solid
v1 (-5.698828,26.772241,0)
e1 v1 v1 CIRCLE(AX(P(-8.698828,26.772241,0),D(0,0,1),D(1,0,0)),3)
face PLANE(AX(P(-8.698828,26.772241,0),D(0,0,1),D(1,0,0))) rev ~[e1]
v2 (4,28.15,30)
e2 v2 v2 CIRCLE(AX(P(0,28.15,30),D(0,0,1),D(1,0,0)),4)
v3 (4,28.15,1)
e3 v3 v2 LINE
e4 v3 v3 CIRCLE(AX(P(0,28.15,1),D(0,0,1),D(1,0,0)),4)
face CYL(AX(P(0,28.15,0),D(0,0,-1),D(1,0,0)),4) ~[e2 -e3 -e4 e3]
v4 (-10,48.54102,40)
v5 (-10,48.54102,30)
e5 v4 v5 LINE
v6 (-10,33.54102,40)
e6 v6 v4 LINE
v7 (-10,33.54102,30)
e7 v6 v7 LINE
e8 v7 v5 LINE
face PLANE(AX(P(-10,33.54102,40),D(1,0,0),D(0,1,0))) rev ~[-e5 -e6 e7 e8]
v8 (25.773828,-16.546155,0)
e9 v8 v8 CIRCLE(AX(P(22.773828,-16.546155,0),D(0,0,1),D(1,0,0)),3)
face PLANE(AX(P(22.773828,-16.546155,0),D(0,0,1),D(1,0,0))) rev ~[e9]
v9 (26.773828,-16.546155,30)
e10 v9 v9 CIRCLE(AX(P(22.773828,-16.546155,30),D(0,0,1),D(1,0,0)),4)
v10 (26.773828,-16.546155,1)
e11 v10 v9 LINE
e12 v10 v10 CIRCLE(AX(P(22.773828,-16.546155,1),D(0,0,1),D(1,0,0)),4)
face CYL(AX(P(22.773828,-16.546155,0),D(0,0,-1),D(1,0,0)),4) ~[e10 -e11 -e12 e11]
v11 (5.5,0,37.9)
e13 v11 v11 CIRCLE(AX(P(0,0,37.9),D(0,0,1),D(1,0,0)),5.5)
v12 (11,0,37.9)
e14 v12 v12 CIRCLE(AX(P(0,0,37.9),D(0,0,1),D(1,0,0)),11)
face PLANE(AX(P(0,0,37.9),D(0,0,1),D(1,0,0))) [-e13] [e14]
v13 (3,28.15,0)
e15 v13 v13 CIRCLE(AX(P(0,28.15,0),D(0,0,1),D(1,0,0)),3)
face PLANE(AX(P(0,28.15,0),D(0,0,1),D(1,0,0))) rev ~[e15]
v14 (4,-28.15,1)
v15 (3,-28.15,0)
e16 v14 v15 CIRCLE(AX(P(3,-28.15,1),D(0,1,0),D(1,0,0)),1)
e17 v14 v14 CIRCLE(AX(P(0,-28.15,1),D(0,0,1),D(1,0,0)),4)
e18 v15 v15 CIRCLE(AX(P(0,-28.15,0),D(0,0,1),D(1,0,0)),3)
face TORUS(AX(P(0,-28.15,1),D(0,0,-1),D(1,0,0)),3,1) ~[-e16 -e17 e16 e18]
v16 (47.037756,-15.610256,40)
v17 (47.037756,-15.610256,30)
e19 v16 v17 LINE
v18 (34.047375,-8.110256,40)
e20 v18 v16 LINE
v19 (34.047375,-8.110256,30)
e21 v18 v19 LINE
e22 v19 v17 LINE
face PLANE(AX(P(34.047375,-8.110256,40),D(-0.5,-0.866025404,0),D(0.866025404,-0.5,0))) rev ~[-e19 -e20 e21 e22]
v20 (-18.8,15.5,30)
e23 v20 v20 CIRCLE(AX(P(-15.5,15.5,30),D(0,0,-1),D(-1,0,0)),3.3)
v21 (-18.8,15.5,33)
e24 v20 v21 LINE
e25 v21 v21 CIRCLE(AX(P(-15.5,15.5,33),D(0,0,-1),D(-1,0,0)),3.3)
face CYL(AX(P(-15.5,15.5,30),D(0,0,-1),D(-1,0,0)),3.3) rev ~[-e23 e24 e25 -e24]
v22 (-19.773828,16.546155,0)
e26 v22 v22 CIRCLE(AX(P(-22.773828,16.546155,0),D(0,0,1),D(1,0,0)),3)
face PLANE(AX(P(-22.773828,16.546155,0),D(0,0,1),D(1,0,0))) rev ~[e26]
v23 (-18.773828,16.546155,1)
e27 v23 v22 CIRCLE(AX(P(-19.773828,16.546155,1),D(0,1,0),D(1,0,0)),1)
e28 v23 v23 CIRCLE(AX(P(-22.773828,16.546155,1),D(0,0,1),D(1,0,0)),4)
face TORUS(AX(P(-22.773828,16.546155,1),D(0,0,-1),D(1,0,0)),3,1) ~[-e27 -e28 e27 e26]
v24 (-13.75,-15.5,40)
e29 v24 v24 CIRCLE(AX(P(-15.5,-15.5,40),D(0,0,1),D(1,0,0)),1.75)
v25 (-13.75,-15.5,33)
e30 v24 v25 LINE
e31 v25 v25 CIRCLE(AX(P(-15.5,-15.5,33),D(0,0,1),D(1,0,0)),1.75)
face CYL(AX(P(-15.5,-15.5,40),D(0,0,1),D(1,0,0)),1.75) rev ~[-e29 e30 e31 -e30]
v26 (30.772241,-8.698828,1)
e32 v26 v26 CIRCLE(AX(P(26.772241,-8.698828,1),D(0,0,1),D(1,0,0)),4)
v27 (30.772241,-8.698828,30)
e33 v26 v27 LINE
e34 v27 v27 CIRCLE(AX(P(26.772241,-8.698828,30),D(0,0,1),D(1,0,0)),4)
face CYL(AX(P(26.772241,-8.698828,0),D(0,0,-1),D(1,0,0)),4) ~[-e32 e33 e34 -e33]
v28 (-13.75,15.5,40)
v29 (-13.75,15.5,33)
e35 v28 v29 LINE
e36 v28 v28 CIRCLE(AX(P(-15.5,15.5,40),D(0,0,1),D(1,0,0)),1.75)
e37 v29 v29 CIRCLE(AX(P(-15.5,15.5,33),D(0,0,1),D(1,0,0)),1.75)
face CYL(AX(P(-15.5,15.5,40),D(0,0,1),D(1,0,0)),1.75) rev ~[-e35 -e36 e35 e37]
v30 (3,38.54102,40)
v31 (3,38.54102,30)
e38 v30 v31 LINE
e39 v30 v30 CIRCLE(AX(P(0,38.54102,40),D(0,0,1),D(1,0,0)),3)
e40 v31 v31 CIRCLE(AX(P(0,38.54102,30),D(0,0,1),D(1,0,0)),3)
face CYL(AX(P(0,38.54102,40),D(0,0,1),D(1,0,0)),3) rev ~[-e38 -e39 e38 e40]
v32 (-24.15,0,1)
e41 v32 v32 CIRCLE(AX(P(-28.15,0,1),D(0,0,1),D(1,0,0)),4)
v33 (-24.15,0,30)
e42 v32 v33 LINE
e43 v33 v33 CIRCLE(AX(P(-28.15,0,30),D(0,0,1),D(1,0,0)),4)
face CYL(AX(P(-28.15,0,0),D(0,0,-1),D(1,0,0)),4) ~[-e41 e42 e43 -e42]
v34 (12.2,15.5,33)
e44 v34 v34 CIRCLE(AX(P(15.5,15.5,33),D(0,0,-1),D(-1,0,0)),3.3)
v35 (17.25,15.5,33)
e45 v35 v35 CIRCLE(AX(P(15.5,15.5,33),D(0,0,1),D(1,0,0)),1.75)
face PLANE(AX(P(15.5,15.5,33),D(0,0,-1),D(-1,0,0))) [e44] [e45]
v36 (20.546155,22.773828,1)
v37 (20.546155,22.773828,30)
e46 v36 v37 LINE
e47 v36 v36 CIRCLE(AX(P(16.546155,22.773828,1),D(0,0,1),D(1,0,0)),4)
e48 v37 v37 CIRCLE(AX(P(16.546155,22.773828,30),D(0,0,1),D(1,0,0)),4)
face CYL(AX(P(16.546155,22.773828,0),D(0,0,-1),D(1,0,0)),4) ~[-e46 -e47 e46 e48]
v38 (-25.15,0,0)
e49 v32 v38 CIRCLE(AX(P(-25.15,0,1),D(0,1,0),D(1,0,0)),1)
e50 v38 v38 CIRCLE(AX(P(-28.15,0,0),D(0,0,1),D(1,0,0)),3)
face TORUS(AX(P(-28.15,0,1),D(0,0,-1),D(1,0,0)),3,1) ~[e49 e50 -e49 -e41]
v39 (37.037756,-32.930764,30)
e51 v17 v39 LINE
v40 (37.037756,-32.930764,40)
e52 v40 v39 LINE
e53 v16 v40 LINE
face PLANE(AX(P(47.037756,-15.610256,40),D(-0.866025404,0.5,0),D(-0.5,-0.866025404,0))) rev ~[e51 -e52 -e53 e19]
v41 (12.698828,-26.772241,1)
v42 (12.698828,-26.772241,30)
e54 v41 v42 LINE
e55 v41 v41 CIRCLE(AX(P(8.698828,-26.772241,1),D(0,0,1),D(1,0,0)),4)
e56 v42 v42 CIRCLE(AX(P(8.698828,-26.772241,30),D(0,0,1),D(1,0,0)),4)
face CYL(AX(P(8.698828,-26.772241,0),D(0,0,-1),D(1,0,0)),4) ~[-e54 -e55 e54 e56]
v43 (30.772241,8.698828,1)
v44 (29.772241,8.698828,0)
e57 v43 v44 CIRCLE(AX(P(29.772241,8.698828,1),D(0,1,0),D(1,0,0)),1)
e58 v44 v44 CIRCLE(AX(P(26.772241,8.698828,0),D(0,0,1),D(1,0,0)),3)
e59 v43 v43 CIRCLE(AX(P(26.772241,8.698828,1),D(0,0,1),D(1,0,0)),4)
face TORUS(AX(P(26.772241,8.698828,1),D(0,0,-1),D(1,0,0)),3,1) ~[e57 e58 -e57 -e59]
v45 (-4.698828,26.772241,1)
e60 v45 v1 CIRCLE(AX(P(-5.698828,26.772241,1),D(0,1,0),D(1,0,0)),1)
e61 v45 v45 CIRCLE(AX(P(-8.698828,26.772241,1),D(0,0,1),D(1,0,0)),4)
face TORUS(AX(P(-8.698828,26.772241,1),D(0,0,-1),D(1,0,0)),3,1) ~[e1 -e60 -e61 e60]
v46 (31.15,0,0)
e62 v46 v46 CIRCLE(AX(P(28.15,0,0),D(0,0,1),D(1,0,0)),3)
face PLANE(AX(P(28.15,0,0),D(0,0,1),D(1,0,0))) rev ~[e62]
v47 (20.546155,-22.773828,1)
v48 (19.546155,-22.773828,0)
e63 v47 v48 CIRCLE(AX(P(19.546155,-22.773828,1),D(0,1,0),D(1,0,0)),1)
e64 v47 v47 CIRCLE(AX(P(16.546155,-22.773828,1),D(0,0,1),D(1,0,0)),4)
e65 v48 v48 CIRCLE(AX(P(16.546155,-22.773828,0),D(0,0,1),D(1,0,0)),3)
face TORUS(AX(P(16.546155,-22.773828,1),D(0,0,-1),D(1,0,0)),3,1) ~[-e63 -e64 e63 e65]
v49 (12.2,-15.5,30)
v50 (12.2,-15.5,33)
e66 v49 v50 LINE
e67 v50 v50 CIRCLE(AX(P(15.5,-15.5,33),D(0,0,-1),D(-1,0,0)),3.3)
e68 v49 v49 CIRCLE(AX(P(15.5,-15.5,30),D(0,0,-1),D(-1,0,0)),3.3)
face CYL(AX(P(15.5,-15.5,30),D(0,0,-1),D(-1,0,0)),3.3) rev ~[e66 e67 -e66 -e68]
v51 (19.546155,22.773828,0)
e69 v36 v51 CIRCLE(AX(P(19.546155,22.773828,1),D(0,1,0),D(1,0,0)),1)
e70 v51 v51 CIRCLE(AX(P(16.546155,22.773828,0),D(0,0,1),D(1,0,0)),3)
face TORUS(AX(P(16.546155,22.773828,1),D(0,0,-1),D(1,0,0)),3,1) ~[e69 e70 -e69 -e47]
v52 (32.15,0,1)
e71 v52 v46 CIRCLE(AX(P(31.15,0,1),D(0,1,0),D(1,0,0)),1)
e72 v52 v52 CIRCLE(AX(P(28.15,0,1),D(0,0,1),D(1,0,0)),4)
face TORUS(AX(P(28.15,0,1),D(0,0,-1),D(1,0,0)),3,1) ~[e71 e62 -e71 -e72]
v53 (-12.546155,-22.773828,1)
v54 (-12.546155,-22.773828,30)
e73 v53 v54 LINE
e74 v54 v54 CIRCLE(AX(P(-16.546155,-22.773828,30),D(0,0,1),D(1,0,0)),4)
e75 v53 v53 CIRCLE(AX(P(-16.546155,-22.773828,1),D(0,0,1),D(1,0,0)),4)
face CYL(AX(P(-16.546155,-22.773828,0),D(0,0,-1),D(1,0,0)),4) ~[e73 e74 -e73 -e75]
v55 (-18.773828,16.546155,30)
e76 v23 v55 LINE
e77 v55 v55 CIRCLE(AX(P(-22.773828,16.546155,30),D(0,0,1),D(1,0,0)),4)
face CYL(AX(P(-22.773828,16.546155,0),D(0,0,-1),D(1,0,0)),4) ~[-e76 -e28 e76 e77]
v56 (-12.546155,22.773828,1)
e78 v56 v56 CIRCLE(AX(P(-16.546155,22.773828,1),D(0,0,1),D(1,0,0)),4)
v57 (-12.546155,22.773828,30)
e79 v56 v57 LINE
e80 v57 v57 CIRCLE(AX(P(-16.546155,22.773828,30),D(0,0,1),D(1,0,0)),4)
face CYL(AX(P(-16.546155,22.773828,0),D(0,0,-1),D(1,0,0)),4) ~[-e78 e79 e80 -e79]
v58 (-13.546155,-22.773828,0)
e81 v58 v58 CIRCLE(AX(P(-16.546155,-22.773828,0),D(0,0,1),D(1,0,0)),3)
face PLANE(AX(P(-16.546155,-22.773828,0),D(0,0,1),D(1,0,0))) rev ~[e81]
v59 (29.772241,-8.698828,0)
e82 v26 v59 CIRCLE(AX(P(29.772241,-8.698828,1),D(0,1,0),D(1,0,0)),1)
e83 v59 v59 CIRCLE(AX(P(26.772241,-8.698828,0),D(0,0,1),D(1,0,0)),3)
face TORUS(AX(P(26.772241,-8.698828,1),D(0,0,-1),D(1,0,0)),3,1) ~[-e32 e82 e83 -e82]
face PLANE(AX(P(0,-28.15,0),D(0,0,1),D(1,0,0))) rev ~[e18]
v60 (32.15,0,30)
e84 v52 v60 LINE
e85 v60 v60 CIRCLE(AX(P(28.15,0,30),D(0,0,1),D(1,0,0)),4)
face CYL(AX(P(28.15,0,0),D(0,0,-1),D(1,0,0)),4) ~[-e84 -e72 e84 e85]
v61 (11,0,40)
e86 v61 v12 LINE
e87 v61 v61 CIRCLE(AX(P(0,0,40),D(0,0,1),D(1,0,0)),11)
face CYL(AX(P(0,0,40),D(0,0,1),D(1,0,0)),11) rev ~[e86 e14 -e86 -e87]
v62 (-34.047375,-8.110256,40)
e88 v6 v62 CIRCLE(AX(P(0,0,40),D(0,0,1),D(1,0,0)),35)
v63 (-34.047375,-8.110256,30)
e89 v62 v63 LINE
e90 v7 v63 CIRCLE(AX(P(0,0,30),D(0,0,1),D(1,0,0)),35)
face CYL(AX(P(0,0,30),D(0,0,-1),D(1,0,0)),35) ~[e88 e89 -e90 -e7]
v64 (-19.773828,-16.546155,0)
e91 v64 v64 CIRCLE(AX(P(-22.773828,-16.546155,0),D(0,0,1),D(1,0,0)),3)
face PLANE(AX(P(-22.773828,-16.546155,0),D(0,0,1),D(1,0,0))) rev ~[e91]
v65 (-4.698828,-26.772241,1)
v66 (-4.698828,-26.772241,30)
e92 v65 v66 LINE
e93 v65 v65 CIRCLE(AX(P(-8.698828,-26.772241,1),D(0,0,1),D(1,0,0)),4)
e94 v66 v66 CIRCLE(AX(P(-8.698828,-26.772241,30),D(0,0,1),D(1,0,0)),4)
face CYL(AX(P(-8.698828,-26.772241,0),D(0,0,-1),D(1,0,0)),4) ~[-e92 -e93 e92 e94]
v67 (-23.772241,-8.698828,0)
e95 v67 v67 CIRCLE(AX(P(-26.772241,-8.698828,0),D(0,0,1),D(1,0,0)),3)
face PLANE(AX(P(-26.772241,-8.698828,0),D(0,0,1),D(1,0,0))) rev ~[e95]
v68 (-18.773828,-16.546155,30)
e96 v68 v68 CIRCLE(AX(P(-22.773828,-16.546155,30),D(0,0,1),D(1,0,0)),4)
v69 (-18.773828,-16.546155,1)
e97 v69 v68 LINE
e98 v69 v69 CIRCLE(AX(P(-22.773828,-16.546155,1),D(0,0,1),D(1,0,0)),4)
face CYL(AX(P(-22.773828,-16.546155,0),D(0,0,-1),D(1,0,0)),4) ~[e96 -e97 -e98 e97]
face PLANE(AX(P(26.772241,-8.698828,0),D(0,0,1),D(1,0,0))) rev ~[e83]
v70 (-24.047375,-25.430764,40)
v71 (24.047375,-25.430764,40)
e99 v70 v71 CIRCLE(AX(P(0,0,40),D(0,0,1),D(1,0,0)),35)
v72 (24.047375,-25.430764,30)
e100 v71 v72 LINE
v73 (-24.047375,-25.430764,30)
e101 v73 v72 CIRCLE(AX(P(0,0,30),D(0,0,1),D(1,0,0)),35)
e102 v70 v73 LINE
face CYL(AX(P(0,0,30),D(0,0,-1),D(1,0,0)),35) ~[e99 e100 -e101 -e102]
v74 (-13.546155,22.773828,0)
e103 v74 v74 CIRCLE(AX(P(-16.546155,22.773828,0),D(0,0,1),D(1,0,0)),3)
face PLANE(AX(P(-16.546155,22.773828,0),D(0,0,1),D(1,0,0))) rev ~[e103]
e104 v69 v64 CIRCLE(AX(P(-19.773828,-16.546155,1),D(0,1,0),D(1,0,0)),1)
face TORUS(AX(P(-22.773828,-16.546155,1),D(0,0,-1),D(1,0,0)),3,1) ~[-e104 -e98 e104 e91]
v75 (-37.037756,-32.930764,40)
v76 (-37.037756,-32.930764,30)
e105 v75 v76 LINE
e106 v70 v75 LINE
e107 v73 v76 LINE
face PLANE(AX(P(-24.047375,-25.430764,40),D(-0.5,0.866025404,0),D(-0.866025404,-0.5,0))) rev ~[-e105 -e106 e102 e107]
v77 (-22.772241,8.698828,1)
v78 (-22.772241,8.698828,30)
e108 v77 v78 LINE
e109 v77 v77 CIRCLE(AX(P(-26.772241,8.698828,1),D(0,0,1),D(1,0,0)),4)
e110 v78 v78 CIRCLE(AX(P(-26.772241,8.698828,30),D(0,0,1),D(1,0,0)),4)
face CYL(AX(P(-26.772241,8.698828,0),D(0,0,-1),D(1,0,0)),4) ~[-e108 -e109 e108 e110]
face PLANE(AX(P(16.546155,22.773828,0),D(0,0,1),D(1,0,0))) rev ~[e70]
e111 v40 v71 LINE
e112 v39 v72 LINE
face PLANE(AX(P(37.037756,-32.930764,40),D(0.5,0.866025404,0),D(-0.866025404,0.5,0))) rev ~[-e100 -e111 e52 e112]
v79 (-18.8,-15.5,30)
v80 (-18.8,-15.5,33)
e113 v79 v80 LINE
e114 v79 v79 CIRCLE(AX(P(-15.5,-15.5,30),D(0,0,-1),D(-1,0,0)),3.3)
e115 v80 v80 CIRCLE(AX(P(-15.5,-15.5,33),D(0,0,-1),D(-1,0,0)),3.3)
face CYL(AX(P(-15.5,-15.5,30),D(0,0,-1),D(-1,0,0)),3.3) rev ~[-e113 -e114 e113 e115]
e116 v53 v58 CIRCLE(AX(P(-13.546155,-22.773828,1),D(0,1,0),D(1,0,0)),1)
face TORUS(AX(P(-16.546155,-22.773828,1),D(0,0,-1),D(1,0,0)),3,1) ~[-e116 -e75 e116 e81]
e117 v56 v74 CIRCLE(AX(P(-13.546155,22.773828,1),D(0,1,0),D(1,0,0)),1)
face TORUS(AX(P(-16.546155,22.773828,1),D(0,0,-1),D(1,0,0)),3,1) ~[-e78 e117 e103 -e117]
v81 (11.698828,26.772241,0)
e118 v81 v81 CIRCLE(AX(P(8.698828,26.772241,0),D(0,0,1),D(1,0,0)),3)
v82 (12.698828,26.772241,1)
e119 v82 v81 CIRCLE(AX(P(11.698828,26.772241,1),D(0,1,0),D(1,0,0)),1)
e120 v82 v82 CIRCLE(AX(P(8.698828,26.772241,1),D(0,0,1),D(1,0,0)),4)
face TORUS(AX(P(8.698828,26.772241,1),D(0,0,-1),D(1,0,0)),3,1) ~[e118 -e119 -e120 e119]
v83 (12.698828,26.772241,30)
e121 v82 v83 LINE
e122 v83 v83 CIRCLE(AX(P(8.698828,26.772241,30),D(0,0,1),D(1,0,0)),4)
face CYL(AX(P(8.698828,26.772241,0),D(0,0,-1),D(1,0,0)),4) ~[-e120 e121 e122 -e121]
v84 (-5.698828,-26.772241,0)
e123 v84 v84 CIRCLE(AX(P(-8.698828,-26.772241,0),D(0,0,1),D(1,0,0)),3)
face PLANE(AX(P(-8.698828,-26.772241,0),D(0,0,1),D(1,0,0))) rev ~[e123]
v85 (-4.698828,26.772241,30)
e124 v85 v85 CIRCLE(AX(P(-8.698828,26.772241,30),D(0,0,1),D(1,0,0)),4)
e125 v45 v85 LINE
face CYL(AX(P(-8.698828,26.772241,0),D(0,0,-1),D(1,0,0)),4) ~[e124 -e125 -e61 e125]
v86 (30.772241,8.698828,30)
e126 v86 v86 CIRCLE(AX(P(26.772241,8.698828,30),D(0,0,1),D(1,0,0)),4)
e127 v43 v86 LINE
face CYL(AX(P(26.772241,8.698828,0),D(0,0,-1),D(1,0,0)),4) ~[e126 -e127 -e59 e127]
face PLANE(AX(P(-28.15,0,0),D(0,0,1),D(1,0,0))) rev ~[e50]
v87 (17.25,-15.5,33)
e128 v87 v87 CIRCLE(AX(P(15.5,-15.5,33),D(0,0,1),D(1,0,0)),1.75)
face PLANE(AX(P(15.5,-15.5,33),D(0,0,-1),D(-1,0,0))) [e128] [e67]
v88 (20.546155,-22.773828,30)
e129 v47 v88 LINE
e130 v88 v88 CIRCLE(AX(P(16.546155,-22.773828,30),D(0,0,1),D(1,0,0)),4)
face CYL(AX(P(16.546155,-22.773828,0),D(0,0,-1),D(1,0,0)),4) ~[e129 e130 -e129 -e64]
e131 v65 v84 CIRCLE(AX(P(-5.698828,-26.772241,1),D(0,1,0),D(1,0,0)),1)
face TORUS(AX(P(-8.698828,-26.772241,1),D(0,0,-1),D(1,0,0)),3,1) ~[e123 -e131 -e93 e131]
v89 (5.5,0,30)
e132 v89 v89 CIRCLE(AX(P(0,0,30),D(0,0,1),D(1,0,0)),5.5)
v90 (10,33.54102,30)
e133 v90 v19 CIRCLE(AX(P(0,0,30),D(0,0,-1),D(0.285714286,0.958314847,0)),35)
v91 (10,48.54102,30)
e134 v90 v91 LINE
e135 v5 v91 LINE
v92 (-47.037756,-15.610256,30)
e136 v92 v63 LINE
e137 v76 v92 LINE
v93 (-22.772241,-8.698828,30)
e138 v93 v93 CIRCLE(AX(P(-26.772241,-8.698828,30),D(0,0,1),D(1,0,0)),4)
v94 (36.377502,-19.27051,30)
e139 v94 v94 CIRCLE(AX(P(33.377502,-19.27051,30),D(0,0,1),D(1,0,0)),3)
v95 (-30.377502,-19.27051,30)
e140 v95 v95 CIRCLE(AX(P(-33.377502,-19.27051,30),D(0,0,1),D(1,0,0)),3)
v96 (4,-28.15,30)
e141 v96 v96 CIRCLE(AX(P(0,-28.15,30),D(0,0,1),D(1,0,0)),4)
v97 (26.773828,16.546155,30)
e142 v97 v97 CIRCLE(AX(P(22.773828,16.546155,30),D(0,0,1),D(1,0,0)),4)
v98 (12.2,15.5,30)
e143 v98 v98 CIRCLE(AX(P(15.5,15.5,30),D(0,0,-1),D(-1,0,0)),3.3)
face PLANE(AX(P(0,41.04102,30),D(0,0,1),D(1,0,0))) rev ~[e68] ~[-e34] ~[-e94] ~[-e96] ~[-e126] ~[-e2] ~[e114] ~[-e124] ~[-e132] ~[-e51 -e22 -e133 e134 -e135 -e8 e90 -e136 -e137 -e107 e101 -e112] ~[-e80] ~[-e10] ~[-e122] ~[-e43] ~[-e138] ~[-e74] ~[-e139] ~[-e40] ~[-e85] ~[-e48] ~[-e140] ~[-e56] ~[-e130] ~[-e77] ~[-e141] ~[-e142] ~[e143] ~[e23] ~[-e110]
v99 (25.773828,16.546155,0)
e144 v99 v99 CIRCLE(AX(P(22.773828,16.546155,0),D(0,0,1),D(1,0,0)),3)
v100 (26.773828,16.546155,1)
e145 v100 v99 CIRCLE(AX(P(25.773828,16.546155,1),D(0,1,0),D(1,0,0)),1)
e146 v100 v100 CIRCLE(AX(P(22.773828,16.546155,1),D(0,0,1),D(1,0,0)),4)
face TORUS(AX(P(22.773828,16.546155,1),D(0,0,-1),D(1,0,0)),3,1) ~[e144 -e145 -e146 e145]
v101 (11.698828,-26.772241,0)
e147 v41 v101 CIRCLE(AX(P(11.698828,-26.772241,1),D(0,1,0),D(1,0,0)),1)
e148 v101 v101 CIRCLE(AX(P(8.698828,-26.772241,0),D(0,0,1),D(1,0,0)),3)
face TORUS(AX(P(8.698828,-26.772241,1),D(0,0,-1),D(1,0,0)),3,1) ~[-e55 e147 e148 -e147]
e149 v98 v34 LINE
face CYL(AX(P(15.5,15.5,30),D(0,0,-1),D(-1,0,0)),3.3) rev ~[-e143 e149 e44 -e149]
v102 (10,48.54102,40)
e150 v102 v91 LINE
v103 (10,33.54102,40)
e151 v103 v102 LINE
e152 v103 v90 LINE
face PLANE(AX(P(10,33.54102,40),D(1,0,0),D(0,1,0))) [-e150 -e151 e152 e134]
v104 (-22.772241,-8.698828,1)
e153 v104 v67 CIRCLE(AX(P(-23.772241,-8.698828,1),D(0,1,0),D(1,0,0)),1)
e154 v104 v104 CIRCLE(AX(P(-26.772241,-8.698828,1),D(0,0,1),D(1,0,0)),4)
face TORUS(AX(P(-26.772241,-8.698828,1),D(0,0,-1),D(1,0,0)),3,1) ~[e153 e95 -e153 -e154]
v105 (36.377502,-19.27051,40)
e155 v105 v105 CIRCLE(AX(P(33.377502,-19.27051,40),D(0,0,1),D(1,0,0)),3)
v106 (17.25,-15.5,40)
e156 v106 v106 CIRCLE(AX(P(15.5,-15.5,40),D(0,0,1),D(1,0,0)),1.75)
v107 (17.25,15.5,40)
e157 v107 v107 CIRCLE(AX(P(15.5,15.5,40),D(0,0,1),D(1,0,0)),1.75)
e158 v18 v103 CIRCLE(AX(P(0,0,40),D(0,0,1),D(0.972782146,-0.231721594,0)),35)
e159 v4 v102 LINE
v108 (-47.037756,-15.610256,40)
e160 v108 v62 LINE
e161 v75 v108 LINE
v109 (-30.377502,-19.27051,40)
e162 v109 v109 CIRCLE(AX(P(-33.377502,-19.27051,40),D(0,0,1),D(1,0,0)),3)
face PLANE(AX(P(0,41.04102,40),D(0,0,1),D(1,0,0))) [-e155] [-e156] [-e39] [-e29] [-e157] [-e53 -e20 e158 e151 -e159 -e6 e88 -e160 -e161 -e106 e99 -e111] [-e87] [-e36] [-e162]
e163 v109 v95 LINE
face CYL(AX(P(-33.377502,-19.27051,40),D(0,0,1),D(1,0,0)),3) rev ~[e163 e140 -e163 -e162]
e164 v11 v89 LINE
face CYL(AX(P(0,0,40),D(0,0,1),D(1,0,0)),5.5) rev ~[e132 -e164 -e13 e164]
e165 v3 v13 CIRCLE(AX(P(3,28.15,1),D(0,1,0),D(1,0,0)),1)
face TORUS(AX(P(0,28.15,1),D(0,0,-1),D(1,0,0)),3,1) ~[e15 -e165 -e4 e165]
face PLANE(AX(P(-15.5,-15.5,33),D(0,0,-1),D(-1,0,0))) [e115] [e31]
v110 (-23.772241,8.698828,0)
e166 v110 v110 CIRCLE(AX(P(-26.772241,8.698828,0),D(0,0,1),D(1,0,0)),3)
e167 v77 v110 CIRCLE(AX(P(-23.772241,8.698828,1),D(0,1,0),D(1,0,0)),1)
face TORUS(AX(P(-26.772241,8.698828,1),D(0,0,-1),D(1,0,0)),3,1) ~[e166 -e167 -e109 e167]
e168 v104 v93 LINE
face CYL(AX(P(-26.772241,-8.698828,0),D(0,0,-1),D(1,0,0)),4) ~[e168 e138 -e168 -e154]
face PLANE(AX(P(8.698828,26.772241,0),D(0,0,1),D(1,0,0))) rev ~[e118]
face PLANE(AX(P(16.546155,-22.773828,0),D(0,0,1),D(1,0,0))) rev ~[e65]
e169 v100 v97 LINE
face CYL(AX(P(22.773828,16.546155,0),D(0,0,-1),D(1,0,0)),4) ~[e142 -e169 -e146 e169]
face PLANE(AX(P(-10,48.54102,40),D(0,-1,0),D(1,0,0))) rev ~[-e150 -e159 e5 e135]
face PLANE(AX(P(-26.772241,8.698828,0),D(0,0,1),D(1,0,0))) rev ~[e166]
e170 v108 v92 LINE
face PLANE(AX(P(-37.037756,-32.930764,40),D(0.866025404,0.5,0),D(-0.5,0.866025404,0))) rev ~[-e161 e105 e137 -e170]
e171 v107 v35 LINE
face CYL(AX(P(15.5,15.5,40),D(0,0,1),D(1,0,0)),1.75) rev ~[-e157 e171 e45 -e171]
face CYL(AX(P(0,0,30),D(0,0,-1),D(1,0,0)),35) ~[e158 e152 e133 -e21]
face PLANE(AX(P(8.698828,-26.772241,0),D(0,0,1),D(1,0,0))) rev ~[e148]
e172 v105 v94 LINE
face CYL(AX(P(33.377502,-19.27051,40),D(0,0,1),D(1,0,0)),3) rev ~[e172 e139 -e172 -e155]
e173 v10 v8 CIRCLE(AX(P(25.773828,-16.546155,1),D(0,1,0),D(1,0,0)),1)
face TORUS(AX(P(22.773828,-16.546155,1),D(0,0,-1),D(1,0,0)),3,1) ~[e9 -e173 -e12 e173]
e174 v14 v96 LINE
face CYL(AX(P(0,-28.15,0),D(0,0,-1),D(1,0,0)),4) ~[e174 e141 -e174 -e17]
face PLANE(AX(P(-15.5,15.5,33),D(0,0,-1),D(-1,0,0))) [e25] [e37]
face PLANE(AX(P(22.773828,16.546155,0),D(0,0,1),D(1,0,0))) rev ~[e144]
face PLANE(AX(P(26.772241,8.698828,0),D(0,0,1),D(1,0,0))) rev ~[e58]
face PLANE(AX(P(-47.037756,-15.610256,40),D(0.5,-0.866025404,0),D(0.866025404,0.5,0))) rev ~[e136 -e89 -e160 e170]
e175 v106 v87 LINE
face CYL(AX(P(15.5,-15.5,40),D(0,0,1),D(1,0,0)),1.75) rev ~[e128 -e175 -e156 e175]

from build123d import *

# Parameters (mm, degrees)
SKIZZE1_R                          = 4
AUFSATZ_LINEAR_AUSTRAGEN1_DEPTH    = 30
AUFSATZ_LINEAR_AUSTRAGEN1_2_DEPTH  = 30
AUFSATZ_LINEAR_AUSTRAGEN1_3_DEPTH  = 30
AUFSATZ_LINEAR_AUSTRAGEN1_4_DEPTH  = 30
AUFSATZ_LINEAR_AUSTRAGEN1_5_DEPTH  = 30
AUFSATZ_LINEAR_AUSTRAGEN1_6_DEPTH  = 30
AUFSATZ_LINEAR_AUSTRAGEN1_7_DEPTH  = 30
AUFSATZ_LINEAR_AUSTRAGEN1_8_DEPTH  = 30
AUFSATZ_LINEAR_AUSTRAGEN1_9_DEPTH  = 30
AUFSATZ_LINEAR_AUSTRAGEN1_10_DEPTH = 30
AUFSATZ_LINEAR_AUSTRAGEN1_11_DEPTH = 30
AUFSATZ_LINEAR_AUSTRAGEN1_12_DEPTH = 30
AUFSATZ_LINEAR_AUSTRAGEN1_13_DEPTH = 30
AUFSATZ_LINEAR_AUSTRAGEN1_14_DEPTH = 30
AUFSATZ_LINEAR_AUSTRAGEN1_15_DEPTH = 30
AUFSATZ_LINEAR_AUSTRAGEN1_16_DEPTH = 30
AUFSATZ_LINEAR_AUSTRAGEN1_17_DEPTH = 30
AUFSATZ_LINEAR_AUSTRAGEN1_18_DEPTH = 30
AUFSATZ_LINEAR_AUSTRAGEN1_19_DEPTH = 30
AUFSATZ_LINEAR_AUSTRAGEN1_20_DEPTH = 30
SKIZZE5_R                          = 35
AUFSATZ_LINEAR_AUSTRAGEN2_DEPTH    = 10
SKIZZE6_R                          = 5.5
SCHNITT_LINEAR_AUSTRAGEN1_DEPTH    = 10
SKIZZE7_W                          = 20
SKIZZE7_H                          = 15
AUFSATZ_LINEAR_AUSTRAGEN3_DEPTH    = 10
SCHNITT_LINEAR_AUSTRAGEN3_REACH    = 80.542
SKIZZE9_R                          = 3
VERRUNDUNG2_R                      = 1
SKIZZE10_R                         = 1.75
SCHNITT_LINEAR_AUSTRAGEN4_DEPTH    = 10
SKIZZE12_R                         = 3.3
SCHNITT_LINEAR_AUSTRAGEN5_DEPTH    = 3
SKIZZE13_R                         = 11
SCHNITT_LINEAR_AUSTRAGEN6_DEPTH    = 2.1


with BuildPart() as part:
    # Skizze1 → Aufsatz-Linear austragen1 (new body)
    with BuildSketch(Plane.XY):
        with Locations((0, 28.15)):
            Circle(SKIZZE1_R)
    extrude(amount=AUFSATZ_LINEAR_AUSTRAGEN1_DEPTH)



with BuildPart() as body_2:
    # Skizze1 → Aufsatz-Linear austragen1 2 (new body)
    with BuildSketch(Plane.XY):
        with Locations((8.698828392, 26.772240934)):
            Circle(SKIZZE1_R)
    extrude(amount=AUFSATZ_LINEAR_AUSTRAGEN1_2_DEPTH)


with BuildPart() as body_3:
    # Skizze1 → Aufsatz-Linear austragen1 3 (new body)
    with BuildSketch(Plane.XY):
        with Locations((16.546154852, 22.773828392)):
            Circle(SKIZZE1_R)
    extrude(amount=AUFSATZ_LINEAR_AUSTRAGEN1_3_DEPTH)


with BuildPart() as body_4:
    # Skizze1 → Aufsatz-Linear austragen1 4 (new body)
    with BuildSketch(Plane.XY):
        with Locations((22.773828392, 16.546154852)):
            Circle(SKIZZE1_R)
    extrude(amount=AUFSATZ_LINEAR_AUSTRAGEN1_4_DEPTH)


with BuildPart() as body_5:
    # Skizze1 → Aufsatz-Linear austragen1 5 (new body)
    with BuildSketch(Plane.XY):
        with Locations((26.772240934, 8.698828392)):
            Circle(SKIZZE1_R)
    extrude(amount=AUFSATZ_LINEAR_AUSTRAGEN1_5_DEPTH)


with BuildPart() as body_6:
    # Skizze1 → Aufsatz-Linear austragen1 6 (new body)
    with BuildSketch(Plane.XY):
        with Locations((28.15, 0)):
            Circle(SKIZZE1_R)
    extrude(amount=AUFSATZ_LINEAR_AUSTRAGEN1_6_DEPTH)


with BuildPart() as body_7:
    # Skizze1 → Aufsatz-Linear austragen1 7 (new body)
    with BuildSketch(Plane.XY):
        with Locations((26.772240934, -8.698828392)):
            Circle(SKIZZE1_R)
    extrude(amount=AUFSATZ_LINEAR_AUSTRAGEN1_7_DEPTH)


with BuildPart() as body_8:
    # Skizze1 → Aufsatz-Linear austragen1 8 (new body)
    with BuildSketch(Plane.XY):
        with Locations((22.773828392, -16.546154852)):
            Circle(SKIZZE1_R)
    extrude(amount=AUFSATZ_LINEAR_AUSTRAGEN1_8_DEPTH)


with BuildPart() as body_9:
    # Skizze1 → Aufsatz-Linear austragen1 9 (new body)
    with BuildSketch(Plane.XY):
        with Locations((16.546154852, -22.773828392)):
            Circle(SKIZZE1_R)
    extrude(amount=AUFSATZ_LINEAR_AUSTRAGEN1_9_DEPTH)


with BuildPart() as body_10:
    # Skizze1 → Aufsatz-Linear austragen1 10 (new body)
    with BuildSketch(Plane.XY):
        with Locations((8.698828392, -26.772240934)):
            Circle(SKIZZE1_R)
    extrude(amount=AUFSATZ_LINEAR_AUSTRAGEN1_10_DEPTH)


with BuildPart() as body_11:
    # Skizze1 → Aufsatz-Linear austragen1 11 (new body)
    with BuildSketch(Plane.XY):
        with Locations((0, -28.15)):
            Circle(SKIZZE1_R)
    extrude(amount=AUFSATZ_LINEAR_AUSTRAGEN1_11_DEPTH)


with BuildPart() as body_12:
    # Skizze1 → Aufsatz-Linear austragen1 12 (new body)
    with BuildSketch(Plane.XY):
        with Locations((-8.698828392, -26.772240934)):
            Circle(SKIZZE1_R)
    extrude(amount=AUFSATZ_LINEAR_AUSTRAGEN1_12_DEPTH)


with BuildPart() as body_13:
    # Skizze1 → Aufsatz-Linear austragen1 13 (new body)
    with BuildSketch(Plane.XY):
        with Locations((-16.546154852, -22.773828392)):
            Circle(SKIZZE1_R)
    extrude(amount=AUFSATZ_LINEAR_AUSTRAGEN1_13_DEPTH)


with BuildPart() as body_14:
    # Skizze1 → Aufsatz-Linear austragen1 14 (new body)
    with BuildSketch(Plane.XY):
        with Locations((-22.773828392, -16.546154852)):
            Circle(SKIZZE1_R)
    extrude(amount=AUFSATZ_LINEAR_AUSTRAGEN1_14_DEPTH)


with BuildPart() as body_15:
    # Skizze1 → Aufsatz-Linear austragen1 15 (new body)
    with BuildSketch(Plane.XY):
        with Locations((-26.772240934, -8.698828392)):
            Circle(SKIZZE1_R)
    extrude(amount=AUFSATZ_LINEAR_AUSTRAGEN1_15_DEPTH)


with BuildPart() as body_16:
    # Skizze1 → Aufsatz-Linear austragen1 16 (new body)
    with BuildSketch(Plane.XY):
        with Locations((-28.15, 0)):
            Circle(SKIZZE1_R)
    extrude(amount=AUFSATZ_LINEAR_AUSTRAGEN1_16_DEPTH)


with BuildPart() as body_17:
    # Skizze1 → Aufsatz-Linear austragen1 17 (new body)
    with BuildSketch(Plane.XY):
        with Locations((-26.772240934, 8.698828392)):
            Circle(SKIZZE1_R)
    extrude(amount=AUFSATZ_LINEAR_AUSTRAGEN1_17_DEPTH)


with BuildPart() as body_18:
    # Skizze1 → Aufsatz-Linear austragen1 18 (new body)
    with BuildSketch(Plane.XY):
        with Locations((-22.773828392, 16.546154852)):
            Circle(SKIZZE1_R)
    extrude(amount=AUFSATZ_LINEAR_AUSTRAGEN1_18_DEPTH)


with BuildPart() as body_19:
    # Skizze1 → Aufsatz-Linear austragen1 19 (new body)
    with BuildSketch(Plane.XY):
        with Locations((-16.546154852, 22.773828392)):
            Circle(SKIZZE1_R)
    extrude(amount=AUFSATZ_LINEAR_AUSTRAGEN1_19_DEPTH)


with BuildPart() as body_20:
    # Skizze1 → Aufsatz-Linear austragen1 20 (new body)
    with BuildSketch(Plane.XY):
        with Locations((-8.698828392, 26.772240934)):
            Circle(SKIZZE1_R)
    extrude(amount=AUFSATZ_LINEAR_AUSTRAGEN1_20_DEPTH)


with BuildPart() as part_1:
    add(part.part)

    add(body_2.part)  # Aufsatz-Linear austragen2 merges body 2

    add(body_3.part)  # Aufsatz-Linear austragen2 merges body 3

    add(body_4.part)  # Aufsatz-Linear austragen2 merges body 4

    add(body_5.part)  # Aufsatz-Linear austragen2 merges body 5

    add(body_6.part)  # Aufsatz-Linear austragen2 merges body 6

    add(body_7.part)  # Aufsatz-Linear austragen2 merges body 7

    add(body_8.part)  # Aufsatz-Linear austragen2 merges body 8

    add(body_9.part)  # Aufsatz-Linear austragen2 merges body 9

    add(body_10.part)  # Aufsatz-Linear austragen2 merges body 10

    add(body_11.part)  # Aufsatz-Linear austragen2 merges body 11

    add(body_12.part)  # Aufsatz-Linear austragen2 merges body 12

    add(body_13.part)  # Aufsatz-Linear austragen2 merges body 13

    add(body_14.part)  # Aufsatz-Linear austragen2 merges body 14

    add(body_15.part)  # Aufsatz-Linear austragen2 merges body 15

    add(body_16.part)  # Aufsatz-Linear austragen2 merges body 16

    add(body_17.part)  # Aufsatz-Linear austragen2 merges body 17

    add(body_18.part)  # Aufsatz-Linear austragen2 merges body 18

    add(body_19.part)  # Aufsatz-Linear austragen2 merges body 19

    add(body_20.part)  # Aufsatz-Linear austragen2 merges body 20
    # Skizze5 → Aufsatz-Linear austragen2 (add)
    with BuildSketch(Plane.XY.offset(30)):
        Circle(SKIZZE5_R)
    extrude(amount=AUFSATZ_LINEAR_AUSTRAGEN2_DEPTH)

    # Skizze6 → Schnitt-Linear austragen1 (cut)
    with BuildSketch(Plane.XY.offset(40)):
        Circle(SKIZZE6_R)
    extrude(amount=-SCHNITT_LINEAR_AUSTRAGEN1_DEPTH, mode=Mode.SUBTRACT)

    # Skizze7 → Aufsatz-Linear austragen3 (add)
    with BuildSketch(Plane.XY.offset(40)):
        with Locations((0, 41.041019662)):
            Rectangle(SKIZZE7_W, SKIZZE7_H)
        Polygon((34.047375097, -8.110255793), (47.037756153, -15.610255793), (37.037756153, -32.930763869), (24.047375097, -25.430763869), align=None)
        Polygon((-24.047375097, -25.430763869), (-37.037756153, -32.930763869), (-47.037756153, -15.610255793), (-34.047375097, -8.110255793), align=None)
    extrude(amount=-AUFSATZ_LINEAR_AUSTRAGEN3_DEPTH)

    # Skizze9 → Schnitt-Linear austragen3 (cut, up to next)
    with BuildSketch(Plane.XY.offset(40), mode=Mode.PRIVATE) as schnitt_linear_austragen3_sk1:
        with Locations((0, 38.541019662)):
            Circle(SKIZZE9_R)
    schnitt_linear_austragen3_tool1 = extrude(schnitt_linear_austragen3_sk1.sketch, amount=-SCHNITT_LINEAR_AUSTRAGEN3_REACH, mode=Mode.PRIVATE) & part_1.part
    # Skizze9 → Schnitt-Linear austragen3 (cut, up to next)
    with BuildSketch(Plane.XY.offset(40), mode=Mode.PRIVATE) as schnitt_linear_austragen3_sk2:
        with Locations((33.377502115, -19.270509831)):
            Circle(SKIZZE9_R)
    schnitt_linear_austragen3_tool2 = extrude(schnitt_linear_austragen3_sk2.sketch, amount=-SCHNITT_LINEAR_AUSTRAGEN3_REACH, mode=Mode.PRIVATE) & part_1.part
    # Skizze9 → Schnitt-Linear austragen3 (cut, up to next)
    with BuildSketch(Plane.XY.offset(40), mode=Mode.PRIVATE) as schnitt_linear_austragen3_sk3:
        with Locations((-33.377502115, -19.270509831)):
            Circle(SKIZZE9_R)
    schnitt_linear_austragen3_tool3 = extrude(schnitt_linear_austragen3_sk3.sketch, amount=-SCHNITT_LINEAR_AUSTRAGEN3_REACH, mode=Mode.PRIVATE) & part_1.part
    add(schnitt_linear_austragen3_tool1.solids().sort_by_distance((0, 38.54102, 40))[0], mode=Mode.SUBTRACT)
    add(schnitt_linear_austragen3_tool2.solids().sort_by_distance((33.377502, -19.27051, 40))[0], mode=Mode.SUBTRACT)
    add(schnitt_linear_austragen3_tool3.solids().sort_by_distance((-33.377502, -19.27051, 40))[0], mode=Mode.SUBTRACT)

    # Verrundung2
    verrundung2_edges = [part_1.edges().sort_by_distance(p)[0] for p in [
        (24.15, 0, 0),
        (-26.773828392, -16.546154852, 0),
        (-30.772240934, -8.698828392, 0),
        (-32.15, 0, 0),
        (-30.772240934, 8.698828392, 0),
        (-26.773828392, 16.546154852, 0),
        (-20.546154852, 22.773828392, 0),
        (-12.698828392, 26.772240934, 0),
        (22.772240934, 8.698828392, 0),
        (18.773828392, 16.546154852, 0),
        (12.546154852, 22.773828392, 0),
        (4.698828392, 26.772240934, 0),
        (-4, 28.15, 0),
        (-20.546154852, -22.773828392, 0),
        (-12.698828392, -26.772240934, 0),
        (-4, -28.15, 0),
        (4.698828392, -26.772240934, 0),
        (12.546154852, -22.773828392, 0),
        (18.773828392, -16.546154852, 0),
        (22.772240934, -8.698828392, 0),
    ]]
    fillet(verrundung2_edges, radius=VERRUNDUNG2_R)

    # Skizze10 → Schnitt-Linear austragen4 (cut)
    with BuildSketch(Plane.XY.offset(40)):
        with Locations((-15.5, 15.5)):
            Circle(SKIZZE10_R)
        with Locations((15.5, 15.5)):
            Circle(SKIZZE10_R)
        with Locations((15.5, -15.5)):
            Circle(SKIZZE10_R)
        with Locations((-15.5, -15.5)):
            Circle(SKIZZE10_R)
    extrude(amount=-SCHNITT_LINEAR_AUSTRAGEN4_DEPTH, mode=Mode.SUBTRACT)

    # Skizze12 → Schnitt-Linear austragen5 (cut)
    with BuildSketch(Plane(origin=(0, 0, 30), x_dir=(-1, 0, 0), z_dir=(0, 0, -1))):
        with Locations((-15.5, 15.5)):
            Circle(SKIZZE12_R)
        with Locations((15.5, 15.5)):
            Circle(SKIZZE12_R)
        with Locations((-15.5, -15.5)):
            Circle(SKIZZE12_R)
        with Locations((15.5, -15.5)):
            Circle(SKIZZE12_R)
    extrude(amount=-SCHNITT_LINEAR_AUSTRAGEN5_DEPTH, mode=Mode.SUBTRACT)

    # Skizze13 → Schnitt-Linear austragen6 (cut)
    with BuildSketch(Plane.XY.offset(40)):
        Circle(SKIZZE13_R)
    extrude(amount=-SCHNITT_LINEAR_AUSTRAGEN6_DEPTH, mode=Mode.SUBTRACT)


solid = part_1.part
